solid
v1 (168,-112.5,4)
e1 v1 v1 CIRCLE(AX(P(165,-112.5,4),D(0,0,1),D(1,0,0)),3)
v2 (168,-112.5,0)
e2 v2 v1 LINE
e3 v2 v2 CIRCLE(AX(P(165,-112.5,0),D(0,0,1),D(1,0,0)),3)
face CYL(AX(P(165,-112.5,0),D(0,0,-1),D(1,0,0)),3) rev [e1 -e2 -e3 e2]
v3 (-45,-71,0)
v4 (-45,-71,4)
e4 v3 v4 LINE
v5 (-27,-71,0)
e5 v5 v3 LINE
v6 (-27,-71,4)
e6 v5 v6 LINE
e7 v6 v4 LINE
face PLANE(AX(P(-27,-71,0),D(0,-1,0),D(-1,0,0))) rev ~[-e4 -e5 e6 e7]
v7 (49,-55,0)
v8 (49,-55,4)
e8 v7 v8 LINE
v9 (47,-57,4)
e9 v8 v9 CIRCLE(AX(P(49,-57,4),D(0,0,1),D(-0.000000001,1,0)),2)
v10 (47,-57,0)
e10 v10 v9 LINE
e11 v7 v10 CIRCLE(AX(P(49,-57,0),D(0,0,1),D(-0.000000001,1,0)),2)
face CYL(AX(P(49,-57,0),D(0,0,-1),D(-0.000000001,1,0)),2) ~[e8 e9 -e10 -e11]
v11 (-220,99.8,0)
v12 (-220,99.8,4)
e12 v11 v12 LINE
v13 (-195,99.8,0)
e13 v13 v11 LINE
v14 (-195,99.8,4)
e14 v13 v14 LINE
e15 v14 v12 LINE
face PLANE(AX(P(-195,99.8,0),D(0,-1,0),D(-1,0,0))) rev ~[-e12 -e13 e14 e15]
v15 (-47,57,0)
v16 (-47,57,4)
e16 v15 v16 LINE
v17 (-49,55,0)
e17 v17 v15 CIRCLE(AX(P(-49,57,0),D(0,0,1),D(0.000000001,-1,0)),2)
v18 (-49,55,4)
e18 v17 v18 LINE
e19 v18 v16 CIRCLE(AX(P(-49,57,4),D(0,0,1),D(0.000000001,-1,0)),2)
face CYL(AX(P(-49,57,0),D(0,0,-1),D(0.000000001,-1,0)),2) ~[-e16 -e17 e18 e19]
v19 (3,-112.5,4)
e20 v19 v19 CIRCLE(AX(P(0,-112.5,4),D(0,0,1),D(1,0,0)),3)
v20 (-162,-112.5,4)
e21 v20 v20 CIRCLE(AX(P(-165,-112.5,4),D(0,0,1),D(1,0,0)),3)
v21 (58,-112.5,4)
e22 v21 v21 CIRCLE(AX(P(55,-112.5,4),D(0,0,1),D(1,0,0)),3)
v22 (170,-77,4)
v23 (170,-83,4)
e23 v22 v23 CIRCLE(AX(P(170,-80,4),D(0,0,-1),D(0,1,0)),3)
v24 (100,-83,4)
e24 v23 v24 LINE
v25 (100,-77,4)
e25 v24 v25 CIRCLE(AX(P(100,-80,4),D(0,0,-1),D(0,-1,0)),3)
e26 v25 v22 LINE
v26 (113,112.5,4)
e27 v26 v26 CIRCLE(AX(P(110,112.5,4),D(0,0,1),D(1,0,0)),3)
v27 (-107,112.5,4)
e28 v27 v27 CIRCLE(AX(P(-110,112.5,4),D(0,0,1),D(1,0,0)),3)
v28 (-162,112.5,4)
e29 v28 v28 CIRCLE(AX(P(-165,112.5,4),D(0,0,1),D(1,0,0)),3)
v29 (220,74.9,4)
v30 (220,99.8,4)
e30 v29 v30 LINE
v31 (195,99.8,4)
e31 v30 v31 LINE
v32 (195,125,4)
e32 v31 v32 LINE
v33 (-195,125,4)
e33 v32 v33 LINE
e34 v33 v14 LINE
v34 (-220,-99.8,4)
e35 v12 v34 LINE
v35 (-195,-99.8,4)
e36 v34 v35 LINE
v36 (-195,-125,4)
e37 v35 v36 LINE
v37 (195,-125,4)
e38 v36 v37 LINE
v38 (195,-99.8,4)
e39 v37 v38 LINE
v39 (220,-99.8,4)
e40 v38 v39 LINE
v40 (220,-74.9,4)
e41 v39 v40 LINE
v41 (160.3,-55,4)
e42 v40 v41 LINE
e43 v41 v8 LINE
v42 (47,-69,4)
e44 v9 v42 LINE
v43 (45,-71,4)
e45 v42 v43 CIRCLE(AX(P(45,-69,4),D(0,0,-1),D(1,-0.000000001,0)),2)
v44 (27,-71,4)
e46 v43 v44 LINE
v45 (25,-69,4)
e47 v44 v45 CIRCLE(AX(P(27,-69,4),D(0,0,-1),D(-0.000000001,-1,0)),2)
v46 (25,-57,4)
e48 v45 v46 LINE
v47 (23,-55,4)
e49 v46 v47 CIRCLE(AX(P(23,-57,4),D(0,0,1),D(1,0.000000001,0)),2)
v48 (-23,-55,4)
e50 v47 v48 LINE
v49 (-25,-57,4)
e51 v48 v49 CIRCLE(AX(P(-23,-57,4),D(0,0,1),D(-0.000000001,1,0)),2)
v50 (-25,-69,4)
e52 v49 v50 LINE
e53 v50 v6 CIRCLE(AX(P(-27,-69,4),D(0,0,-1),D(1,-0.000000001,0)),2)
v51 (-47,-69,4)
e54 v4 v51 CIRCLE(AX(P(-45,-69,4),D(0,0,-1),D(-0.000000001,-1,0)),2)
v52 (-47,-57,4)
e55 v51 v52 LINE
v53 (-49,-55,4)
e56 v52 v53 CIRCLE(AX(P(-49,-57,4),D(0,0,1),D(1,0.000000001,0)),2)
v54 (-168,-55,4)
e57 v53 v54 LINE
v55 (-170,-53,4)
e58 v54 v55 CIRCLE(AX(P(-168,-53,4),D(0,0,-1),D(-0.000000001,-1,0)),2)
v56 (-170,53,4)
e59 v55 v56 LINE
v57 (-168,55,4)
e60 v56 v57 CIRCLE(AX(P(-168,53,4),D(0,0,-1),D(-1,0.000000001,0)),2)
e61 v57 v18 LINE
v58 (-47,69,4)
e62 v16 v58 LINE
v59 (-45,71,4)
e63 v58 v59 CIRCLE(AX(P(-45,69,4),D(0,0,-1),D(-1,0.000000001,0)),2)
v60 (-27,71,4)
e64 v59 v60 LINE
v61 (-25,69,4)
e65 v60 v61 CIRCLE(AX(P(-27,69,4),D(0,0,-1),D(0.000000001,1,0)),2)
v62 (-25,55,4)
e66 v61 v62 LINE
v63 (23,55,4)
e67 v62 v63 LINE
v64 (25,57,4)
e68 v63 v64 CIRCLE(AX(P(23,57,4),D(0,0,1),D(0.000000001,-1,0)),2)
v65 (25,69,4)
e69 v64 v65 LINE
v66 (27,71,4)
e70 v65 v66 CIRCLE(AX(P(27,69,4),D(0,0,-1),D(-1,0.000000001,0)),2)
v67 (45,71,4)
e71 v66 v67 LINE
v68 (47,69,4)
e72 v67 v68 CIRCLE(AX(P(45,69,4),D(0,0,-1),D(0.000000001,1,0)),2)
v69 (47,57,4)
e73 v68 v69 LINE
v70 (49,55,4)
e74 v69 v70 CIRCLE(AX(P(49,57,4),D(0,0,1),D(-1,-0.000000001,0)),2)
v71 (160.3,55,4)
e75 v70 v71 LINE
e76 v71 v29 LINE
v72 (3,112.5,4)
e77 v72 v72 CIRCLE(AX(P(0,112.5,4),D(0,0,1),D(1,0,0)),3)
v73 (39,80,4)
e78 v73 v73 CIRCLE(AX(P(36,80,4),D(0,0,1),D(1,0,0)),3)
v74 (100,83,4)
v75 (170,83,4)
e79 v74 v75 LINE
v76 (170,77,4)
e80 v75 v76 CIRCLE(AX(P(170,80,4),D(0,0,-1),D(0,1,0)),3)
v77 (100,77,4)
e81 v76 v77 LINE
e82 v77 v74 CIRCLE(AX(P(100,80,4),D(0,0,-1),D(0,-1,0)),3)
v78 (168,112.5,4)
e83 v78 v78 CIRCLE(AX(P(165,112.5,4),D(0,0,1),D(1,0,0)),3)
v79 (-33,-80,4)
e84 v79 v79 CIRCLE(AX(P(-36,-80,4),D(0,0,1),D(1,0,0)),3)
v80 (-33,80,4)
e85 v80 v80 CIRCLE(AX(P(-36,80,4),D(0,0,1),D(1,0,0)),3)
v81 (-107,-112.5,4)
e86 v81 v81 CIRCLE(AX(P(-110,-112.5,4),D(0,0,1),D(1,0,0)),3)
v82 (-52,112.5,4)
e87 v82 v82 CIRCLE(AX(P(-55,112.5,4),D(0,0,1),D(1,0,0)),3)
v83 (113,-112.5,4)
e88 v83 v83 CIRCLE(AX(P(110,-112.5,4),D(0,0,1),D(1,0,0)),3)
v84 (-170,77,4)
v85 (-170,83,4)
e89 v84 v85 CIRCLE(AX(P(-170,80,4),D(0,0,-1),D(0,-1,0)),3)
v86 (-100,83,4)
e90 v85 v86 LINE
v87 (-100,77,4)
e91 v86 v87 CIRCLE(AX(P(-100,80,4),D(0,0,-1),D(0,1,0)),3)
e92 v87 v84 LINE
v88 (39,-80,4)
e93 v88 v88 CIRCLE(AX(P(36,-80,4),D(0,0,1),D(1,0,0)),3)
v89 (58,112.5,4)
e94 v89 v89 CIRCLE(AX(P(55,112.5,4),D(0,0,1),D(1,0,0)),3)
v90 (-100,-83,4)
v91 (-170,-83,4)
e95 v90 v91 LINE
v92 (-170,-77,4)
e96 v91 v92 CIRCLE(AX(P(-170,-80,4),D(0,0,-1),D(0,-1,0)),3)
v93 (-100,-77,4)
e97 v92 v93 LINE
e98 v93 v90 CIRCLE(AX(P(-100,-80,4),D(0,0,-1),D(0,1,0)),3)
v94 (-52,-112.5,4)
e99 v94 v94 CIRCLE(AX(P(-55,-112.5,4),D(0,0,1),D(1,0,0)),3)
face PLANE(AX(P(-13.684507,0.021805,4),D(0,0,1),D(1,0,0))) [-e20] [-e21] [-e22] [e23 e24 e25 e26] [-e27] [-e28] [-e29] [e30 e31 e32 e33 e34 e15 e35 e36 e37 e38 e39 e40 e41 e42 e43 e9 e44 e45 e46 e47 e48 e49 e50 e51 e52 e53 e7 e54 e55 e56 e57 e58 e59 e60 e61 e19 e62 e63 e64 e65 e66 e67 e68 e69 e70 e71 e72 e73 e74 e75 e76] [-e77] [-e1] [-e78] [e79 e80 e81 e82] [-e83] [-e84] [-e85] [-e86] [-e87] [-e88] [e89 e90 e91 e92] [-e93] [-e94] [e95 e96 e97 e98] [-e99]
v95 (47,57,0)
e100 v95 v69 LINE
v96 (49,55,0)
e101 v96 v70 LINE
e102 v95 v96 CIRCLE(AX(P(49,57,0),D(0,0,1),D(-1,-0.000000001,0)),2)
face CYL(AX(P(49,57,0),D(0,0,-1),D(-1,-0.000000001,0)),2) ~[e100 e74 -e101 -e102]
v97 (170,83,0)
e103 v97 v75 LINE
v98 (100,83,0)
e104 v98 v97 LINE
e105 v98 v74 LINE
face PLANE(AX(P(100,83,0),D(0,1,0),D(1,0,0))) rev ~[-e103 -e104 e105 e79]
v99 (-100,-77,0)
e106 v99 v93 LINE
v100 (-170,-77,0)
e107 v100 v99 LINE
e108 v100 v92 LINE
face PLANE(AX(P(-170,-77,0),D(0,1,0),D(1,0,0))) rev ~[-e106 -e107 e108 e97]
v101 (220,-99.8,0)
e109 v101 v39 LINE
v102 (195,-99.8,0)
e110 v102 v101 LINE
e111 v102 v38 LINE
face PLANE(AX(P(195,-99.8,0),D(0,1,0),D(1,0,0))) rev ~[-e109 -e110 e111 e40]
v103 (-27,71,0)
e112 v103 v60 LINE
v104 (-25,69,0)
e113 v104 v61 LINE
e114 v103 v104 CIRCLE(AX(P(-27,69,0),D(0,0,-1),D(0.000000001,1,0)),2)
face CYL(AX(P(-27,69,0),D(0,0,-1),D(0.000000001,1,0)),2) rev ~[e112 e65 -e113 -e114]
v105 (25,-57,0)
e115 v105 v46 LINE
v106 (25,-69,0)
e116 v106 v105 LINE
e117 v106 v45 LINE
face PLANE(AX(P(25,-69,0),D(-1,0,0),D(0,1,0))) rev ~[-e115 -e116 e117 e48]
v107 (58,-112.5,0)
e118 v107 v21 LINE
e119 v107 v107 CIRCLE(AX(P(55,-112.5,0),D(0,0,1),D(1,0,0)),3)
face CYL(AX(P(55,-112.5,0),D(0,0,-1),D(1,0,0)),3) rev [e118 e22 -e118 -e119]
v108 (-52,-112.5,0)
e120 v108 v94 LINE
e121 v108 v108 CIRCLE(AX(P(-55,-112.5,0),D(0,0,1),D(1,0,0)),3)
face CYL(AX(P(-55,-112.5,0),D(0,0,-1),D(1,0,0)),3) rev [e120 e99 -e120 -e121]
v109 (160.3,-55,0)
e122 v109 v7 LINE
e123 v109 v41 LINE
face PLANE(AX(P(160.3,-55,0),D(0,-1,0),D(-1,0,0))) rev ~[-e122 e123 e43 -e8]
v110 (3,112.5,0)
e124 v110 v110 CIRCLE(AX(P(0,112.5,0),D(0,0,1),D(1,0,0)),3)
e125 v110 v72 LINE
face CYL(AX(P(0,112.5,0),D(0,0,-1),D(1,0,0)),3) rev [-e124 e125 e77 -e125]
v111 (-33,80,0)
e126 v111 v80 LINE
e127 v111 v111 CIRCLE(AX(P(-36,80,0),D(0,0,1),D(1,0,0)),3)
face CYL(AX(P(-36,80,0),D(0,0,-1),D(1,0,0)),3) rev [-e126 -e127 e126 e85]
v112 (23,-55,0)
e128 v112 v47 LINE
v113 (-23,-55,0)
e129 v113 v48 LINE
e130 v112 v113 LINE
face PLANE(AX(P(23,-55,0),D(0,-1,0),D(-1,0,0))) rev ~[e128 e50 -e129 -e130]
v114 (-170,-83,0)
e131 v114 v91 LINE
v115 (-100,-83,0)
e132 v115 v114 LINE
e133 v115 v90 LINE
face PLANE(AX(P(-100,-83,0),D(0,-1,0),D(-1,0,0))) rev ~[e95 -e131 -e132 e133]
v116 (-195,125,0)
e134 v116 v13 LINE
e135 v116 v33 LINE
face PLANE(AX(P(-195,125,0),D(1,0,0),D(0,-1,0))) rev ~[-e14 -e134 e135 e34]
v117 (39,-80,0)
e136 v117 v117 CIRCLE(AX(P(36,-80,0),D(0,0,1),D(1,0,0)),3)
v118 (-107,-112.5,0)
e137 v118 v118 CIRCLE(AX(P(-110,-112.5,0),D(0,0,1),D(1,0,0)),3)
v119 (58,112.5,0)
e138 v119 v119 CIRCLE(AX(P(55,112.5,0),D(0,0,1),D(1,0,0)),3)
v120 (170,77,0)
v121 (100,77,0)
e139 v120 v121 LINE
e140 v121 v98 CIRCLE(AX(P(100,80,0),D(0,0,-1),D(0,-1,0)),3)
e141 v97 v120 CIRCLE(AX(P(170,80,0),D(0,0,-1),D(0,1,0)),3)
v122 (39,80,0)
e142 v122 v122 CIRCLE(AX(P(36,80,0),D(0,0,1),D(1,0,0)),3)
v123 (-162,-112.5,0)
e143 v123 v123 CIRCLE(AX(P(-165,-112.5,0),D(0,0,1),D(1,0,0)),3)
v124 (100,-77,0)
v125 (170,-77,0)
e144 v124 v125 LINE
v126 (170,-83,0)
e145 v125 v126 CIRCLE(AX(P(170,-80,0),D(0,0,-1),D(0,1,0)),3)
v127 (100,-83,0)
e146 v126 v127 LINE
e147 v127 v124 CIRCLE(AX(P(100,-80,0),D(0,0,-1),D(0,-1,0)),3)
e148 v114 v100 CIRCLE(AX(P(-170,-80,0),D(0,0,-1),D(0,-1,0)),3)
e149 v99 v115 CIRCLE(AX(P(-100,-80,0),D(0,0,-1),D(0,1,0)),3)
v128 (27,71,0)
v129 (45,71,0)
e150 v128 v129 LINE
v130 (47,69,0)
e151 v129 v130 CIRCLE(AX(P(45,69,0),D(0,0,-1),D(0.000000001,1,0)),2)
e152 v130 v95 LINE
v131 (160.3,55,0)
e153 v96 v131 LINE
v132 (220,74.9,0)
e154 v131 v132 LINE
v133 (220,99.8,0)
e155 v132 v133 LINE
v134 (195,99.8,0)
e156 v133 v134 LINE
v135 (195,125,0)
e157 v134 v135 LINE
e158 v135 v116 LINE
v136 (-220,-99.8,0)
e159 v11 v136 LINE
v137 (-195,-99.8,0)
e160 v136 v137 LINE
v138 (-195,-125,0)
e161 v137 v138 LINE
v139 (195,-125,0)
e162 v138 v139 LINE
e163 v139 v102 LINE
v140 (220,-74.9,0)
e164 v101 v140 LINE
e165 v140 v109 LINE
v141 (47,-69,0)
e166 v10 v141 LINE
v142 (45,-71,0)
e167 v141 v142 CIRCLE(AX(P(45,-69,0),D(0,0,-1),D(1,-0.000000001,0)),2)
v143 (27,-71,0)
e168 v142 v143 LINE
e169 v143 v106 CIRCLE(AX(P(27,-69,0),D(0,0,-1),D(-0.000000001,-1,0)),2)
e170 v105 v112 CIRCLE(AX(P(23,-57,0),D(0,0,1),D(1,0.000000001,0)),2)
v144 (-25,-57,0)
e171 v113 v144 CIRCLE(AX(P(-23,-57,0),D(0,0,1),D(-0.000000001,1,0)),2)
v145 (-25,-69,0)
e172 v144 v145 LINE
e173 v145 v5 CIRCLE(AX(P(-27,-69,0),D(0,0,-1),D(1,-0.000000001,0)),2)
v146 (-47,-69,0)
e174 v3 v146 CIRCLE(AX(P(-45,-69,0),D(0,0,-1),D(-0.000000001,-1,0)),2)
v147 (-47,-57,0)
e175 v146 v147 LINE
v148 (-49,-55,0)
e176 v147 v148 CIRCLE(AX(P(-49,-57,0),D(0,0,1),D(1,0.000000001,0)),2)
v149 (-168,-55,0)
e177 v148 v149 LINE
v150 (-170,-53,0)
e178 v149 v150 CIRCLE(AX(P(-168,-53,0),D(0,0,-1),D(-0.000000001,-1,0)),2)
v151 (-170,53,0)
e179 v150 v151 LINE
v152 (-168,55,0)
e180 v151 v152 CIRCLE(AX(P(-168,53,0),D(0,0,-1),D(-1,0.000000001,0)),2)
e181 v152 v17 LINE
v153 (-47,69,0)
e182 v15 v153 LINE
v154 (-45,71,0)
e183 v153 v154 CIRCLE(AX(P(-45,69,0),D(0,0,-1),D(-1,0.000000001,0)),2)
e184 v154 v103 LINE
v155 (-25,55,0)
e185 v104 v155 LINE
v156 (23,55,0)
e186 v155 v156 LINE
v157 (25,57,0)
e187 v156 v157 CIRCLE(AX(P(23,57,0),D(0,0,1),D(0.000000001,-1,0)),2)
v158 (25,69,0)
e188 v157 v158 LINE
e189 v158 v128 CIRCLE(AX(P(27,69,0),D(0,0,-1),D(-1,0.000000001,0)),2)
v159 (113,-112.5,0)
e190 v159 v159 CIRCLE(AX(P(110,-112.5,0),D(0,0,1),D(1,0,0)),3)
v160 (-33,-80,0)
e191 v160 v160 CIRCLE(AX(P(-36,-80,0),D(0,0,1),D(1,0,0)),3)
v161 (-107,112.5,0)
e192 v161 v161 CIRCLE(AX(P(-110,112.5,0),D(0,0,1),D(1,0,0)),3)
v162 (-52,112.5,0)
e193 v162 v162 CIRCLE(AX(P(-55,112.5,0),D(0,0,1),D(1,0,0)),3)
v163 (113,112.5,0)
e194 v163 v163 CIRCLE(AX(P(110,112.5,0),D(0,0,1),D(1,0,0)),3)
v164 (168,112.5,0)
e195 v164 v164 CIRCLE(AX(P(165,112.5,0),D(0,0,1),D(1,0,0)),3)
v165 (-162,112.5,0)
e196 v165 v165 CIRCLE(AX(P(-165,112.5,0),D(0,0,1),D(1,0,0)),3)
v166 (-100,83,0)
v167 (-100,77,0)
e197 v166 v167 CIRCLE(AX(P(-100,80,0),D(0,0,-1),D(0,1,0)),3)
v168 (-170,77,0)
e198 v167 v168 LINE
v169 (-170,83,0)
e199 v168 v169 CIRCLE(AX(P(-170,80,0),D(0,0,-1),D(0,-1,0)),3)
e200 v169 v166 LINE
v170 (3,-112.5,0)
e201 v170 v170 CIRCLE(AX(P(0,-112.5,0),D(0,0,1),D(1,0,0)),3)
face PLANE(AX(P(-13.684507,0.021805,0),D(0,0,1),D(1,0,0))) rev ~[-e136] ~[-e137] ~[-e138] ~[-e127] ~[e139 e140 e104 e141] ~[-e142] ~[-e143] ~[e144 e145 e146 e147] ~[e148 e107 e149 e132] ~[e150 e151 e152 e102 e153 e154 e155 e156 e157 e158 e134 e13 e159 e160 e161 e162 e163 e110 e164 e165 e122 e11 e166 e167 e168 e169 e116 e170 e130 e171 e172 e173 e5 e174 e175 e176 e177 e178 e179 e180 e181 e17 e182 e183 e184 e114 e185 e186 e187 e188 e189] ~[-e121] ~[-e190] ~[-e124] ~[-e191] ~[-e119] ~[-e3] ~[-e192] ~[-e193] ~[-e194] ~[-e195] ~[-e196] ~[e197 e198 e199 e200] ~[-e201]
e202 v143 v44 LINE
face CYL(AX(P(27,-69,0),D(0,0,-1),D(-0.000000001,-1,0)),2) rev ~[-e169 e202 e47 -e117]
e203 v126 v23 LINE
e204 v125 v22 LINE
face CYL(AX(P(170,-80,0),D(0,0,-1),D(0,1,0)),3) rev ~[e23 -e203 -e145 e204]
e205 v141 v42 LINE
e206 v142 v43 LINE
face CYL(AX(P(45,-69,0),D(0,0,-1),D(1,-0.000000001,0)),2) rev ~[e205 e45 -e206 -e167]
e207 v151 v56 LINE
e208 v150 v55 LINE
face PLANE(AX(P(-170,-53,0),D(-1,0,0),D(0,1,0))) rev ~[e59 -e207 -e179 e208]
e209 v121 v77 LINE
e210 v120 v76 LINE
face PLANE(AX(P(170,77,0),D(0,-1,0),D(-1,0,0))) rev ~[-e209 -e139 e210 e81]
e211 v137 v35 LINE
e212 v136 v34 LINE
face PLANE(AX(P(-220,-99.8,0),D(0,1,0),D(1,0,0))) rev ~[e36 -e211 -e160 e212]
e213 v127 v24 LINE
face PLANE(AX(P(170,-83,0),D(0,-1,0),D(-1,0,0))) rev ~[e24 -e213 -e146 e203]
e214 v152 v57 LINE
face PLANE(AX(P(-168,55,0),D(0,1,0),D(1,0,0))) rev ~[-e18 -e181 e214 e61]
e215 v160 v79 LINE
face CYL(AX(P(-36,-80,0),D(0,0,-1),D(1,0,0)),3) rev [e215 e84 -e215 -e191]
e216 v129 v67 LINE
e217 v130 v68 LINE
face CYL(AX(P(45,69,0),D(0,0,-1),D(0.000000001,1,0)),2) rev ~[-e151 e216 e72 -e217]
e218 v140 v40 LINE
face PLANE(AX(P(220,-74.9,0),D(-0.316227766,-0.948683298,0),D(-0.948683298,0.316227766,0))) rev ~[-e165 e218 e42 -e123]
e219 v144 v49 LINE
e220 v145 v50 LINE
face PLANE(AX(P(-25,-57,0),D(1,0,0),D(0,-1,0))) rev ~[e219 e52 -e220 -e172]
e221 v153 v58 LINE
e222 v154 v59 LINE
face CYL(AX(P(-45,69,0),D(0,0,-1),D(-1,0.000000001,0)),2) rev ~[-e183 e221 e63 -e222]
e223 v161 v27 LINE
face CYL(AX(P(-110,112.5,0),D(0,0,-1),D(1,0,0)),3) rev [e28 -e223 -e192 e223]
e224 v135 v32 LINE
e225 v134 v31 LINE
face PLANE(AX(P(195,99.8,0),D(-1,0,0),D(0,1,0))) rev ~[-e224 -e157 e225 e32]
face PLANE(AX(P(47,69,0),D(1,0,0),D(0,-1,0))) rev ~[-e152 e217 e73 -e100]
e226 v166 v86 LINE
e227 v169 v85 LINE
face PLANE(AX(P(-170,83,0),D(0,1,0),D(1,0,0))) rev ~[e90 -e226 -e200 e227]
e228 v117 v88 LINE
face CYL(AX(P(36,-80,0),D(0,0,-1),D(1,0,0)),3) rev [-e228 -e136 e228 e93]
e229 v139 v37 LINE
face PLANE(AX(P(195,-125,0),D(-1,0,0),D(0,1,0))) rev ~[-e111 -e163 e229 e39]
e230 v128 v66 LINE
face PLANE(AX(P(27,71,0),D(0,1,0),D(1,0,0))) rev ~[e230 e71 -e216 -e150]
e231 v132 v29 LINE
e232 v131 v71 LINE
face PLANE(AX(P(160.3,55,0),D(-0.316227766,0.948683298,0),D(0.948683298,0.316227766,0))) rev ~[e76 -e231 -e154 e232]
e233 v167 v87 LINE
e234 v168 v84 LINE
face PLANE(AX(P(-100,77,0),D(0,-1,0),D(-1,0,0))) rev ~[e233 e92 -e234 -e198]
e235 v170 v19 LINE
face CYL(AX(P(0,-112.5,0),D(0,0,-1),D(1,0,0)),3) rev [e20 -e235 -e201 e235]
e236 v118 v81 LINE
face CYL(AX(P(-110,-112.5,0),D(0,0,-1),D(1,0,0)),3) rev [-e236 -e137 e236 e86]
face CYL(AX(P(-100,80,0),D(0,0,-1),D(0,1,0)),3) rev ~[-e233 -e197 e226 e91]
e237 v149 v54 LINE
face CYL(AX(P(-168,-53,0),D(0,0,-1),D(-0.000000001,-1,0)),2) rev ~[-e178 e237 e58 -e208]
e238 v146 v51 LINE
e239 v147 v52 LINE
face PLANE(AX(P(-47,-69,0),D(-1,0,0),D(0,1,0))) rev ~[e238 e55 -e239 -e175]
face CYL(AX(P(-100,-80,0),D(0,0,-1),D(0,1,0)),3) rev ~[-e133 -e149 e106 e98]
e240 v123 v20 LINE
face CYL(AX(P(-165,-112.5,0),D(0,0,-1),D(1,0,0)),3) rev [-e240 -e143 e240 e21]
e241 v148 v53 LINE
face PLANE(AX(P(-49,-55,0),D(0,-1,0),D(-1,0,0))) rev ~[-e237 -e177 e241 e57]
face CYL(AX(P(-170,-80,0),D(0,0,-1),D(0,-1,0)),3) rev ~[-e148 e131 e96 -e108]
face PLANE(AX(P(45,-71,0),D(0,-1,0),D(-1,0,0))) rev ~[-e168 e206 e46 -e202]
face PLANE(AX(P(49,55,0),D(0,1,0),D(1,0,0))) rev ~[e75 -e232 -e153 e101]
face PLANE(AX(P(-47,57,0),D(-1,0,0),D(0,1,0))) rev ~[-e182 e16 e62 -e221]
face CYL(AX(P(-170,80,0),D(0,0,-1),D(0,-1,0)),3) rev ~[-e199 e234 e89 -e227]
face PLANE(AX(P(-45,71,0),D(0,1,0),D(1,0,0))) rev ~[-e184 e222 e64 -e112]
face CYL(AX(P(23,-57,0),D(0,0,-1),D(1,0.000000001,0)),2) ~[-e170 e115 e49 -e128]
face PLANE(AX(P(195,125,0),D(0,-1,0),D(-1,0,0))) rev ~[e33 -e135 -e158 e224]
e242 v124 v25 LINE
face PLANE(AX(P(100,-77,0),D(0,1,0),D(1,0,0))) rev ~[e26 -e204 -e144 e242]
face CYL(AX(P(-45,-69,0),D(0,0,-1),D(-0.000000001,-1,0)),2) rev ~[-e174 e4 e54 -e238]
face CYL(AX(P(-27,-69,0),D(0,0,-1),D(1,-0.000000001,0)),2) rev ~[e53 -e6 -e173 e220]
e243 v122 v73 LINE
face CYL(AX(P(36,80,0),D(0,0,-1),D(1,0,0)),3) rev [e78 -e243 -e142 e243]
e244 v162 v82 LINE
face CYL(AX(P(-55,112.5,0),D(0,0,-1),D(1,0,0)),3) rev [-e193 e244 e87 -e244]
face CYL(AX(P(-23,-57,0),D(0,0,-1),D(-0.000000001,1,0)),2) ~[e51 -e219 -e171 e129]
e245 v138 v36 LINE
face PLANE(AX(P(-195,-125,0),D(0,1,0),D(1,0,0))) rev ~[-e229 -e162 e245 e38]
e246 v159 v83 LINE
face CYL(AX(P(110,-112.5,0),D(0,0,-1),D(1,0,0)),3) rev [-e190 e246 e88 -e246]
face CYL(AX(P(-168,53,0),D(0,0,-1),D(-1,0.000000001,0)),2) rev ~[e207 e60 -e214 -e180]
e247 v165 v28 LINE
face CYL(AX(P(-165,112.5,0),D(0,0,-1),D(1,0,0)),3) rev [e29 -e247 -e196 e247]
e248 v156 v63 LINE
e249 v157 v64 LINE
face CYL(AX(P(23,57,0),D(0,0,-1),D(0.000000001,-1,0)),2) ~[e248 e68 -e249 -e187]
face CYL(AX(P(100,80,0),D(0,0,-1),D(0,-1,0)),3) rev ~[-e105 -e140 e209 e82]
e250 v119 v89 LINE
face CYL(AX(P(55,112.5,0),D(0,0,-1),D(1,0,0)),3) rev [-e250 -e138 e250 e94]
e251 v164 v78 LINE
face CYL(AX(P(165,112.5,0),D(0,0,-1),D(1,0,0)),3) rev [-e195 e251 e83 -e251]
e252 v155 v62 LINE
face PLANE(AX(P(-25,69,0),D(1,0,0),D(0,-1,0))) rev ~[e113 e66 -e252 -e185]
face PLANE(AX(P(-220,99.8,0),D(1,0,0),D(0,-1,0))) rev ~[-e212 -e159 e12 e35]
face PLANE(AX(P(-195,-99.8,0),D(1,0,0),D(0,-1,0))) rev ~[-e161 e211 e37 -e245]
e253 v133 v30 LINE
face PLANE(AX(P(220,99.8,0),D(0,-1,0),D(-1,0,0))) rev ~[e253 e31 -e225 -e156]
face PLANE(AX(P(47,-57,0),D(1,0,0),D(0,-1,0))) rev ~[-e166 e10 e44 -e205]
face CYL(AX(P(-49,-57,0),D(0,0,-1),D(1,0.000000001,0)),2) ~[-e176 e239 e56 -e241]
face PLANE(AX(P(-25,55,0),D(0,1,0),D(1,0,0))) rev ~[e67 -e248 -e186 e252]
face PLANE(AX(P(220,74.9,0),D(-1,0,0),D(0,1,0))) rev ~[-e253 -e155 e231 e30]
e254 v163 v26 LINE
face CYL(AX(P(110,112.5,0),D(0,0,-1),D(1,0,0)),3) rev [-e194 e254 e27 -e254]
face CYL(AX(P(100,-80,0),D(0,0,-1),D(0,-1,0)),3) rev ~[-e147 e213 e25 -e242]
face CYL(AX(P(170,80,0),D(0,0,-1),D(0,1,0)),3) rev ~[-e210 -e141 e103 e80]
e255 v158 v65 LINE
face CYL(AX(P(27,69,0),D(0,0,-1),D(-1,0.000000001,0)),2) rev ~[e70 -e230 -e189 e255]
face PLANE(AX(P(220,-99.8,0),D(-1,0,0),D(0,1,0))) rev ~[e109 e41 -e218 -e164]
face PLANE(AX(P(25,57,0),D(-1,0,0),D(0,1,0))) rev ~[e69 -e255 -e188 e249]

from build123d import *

# Parameters (mm, degrees)
MODEL_R             = 3
BOSS_EXTRUDE1_DEPTH = 4


with BuildPart() as part:
    # Model → Boss-Extrude1 (new body)
    with BuildSketch(Plane.XY):
        with BuildLine():
            Line((220, -99.8), (220, -74.9))
            Line((220, -74.9), (160.3, -55))
            Line((160.3, -55), (49, -55))
            ThreePointArc((49, -55), (47.585786438, -55.585786438), (47, -57))
            Line((47, -57), (47, -69))
            ThreePointArc((47, -69), (46.414213562, -70.414213562), (45, -71))
            Line((45, -71), (27, -71))
            ThreePointArc((27, -71), (25.585786438, -70.414213562), (25, -69))
            Line((25, -69), (25, -57))
            ThreePointArc((25, -57), (24.414213562, -55.585786438), (23, -55))
            Line((23, -55), (-23, -55))
            ThreePointArc((-23, -55), (-24.414213562, -55.585786438), (-25, -57))
            Line((-25, -57), (-25, -69))
            ThreePointArc((-25, -69), (-25.585786438, -70.414213562), (-27, -71))
            Line((-27, -71), (-45, -71))
            ThreePointArc((-45, -71), (-46.414213562, -70.414213562), (-47, -69))
            Line((-47, -69), (-47, -57))
            ThreePointArc((-47, -57), (-47.585786438, -55.585786438), (-49, -55))
            Line((-49, -55), (-168, -55))
            ThreePointArc((-168, -55), (-169.414213562, -54.414213562), (-170, -53))
            Line((-170, -53), (-170, 53))
            ThreePointArc((-170, 53), (-169.414213562, 54.414213562), (-168, 55))
            Line((-168, 55), (-49, 55))
            ThreePointArc((-49, 55), (-47.585786438, 55.585786438), (-47, 57))
            Line((-47, 57), (-47, 69))
            ThreePointArc((-47, 69), (-46.414213562, 70.414213562), (-45, 71))
            Line((-45, 71), (-27, 71))
            ThreePointArc((-27, 71), (-25.585786438, 70.414213562), (-25, 69))
            Line((-25, 69), (-25, 55))
            Line((-25, 55), (23, 55))
            ThreePointArc((23, 55), (24.414213562, 55.585786438), (25, 57))
            Line((25, 57), (25, 69))
            ThreePointArc((25, 69), (25.585786438, 70.414213562), (27, 71))
            Line((27, 71), (45, 71))
            ThreePointArc((45, 71), (46.414213562, 70.414213562), (47, 69))
            Line((47, 69), (47, 57))
            ThreePointArc((47, 57), (47.585786438, 55.585786438), (49, 55))
            Line((49, 55), (160.3, 55))
            Line((160.3, 55), (220, 74.9))
            Line((220, 74.9), (220, 99.8))
            Line((220, 99.8), (195, 99.8))
            Line((195, 99.8), (195, 125))
            Line((195, 125), (-195, 125))
            Line((-195, 125), (-195, 99.8))
            Line((-195, 99.8), (-220, 99.8))
            Line((-220, 99.8), (-220, -99.8))
            Line((-220, -99.8), (-195, -99.8))
            Line((-195, -99.8), (-195, -125))
            Line((-195, -125), (195, -125))
            Line((195, -125), (195, -99.8))
            Line((195, -99.8), (220, -99.8))
        make_face()
        with Locations((36, 80)):
            Circle(MODEL_R, mode=Mode.SUBTRACT)
        with Locations((-36, -80)):
            Circle(MODEL_R, mode=Mode.SUBTRACT)
        with Locations((-36, 80)):
            Circle(MODEL_R, mode=Mode.SUBTRACT)
        with Locations((36, -80)):
            Circle(MODEL_R, mode=Mode.SUBTRACT)
        with Locations((55, 112.5)):
            Circle(MODEL_R, mode=Mode.SUBTRACT)
        with Locations((-110, 112.5)):
            Circle(MODEL_R, mode=Mode.SUBTRACT)
        with Locations((-55, 112.5)):
            Circle(MODEL_R, mode=Mode.SUBTRACT)
        with Locations((0, 112.5)):
            Circle(MODEL_R, mode=Mode.SUBTRACT)
        with Locations((-165, 112.5)):
            Circle(MODEL_R, mode=Mode.SUBTRACT)
        with Locations((110, 112.5)):
            Circle(MODEL_R, mode=Mode.SUBTRACT)
        with Locations((165, 112.5)):
            Circle(MODEL_R, mode=Mode.SUBTRACT)
        with Locations((110, -112.5)):
            Circle(MODEL_R, mode=Mode.SUBTRACT)
        with Locations((-165, -112.5)):
            Circle(MODEL_R, mode=Mode.SUBTRACT)
        with Locations((0, -112.5)):
            Circle(MODEL_R, mode=Mode.SUBTRACT)
        with Locations((-55, -112.5)):
            Circle(MODEL_R, mode=Mode.SUBTRACT)
        with Locations((-110, -112.5)):
            Circle(MODEL_R, mode=Mode.SUBTRACT)
        with Locations((55, -112.5)):
            Circle(MODEL_R, mode=Mode.SUBTRACT)
        with Locations((165, -112.5)):
            Circle(MODEL_R, mode=Mode.SUBTRACT)
        with BuildLine():
            Line((170, -83), (100, -83))
            ThreePointArc((100, -83), (97, -80), (100, -77))
            Line((100, -77), (170, -77))
            ThreePointArc((170, -77), (173, -80), (170, -83))
        make_face(mode=Mode.SUBTRACT)
        with BuildLine():
            Line((-170, -77), (-100, -77))
            ThreePointArc((-100, -77), (-97, -80), (-100, -83))
            Line((-100, -83), (-170, -83))
            ThreePointArc((-170, -83), (-173, -80), (-170, -77))
        make_face(mode=Mode.SUBTRACT)
        with BuildLine():
            Line((170, 77), (100, 77))
            ThreePointArc((100, 77), (97, 80), (100, 83))
            Line((100, 83), (170, 83))
            ThreePointArc((170, 83), (173, 80), (170, 77))
        make_face(mode=Mode.SUBTRACT)
        with BuildLine():
            Line((-170, 83), (-100, 83))
            ThreePointArc((-100, 83), (-97, 80), (-100, 77))
            Line((-100, 77), (-170, 77))
            ThreePointArc((-170, 77), (-173, 80), (-170, 83))
        make_face(mode=Mode.SUBTRACT)
    extrude(amount=BOSS_EXTRUDE1_DEPTH)


solid = part.part
